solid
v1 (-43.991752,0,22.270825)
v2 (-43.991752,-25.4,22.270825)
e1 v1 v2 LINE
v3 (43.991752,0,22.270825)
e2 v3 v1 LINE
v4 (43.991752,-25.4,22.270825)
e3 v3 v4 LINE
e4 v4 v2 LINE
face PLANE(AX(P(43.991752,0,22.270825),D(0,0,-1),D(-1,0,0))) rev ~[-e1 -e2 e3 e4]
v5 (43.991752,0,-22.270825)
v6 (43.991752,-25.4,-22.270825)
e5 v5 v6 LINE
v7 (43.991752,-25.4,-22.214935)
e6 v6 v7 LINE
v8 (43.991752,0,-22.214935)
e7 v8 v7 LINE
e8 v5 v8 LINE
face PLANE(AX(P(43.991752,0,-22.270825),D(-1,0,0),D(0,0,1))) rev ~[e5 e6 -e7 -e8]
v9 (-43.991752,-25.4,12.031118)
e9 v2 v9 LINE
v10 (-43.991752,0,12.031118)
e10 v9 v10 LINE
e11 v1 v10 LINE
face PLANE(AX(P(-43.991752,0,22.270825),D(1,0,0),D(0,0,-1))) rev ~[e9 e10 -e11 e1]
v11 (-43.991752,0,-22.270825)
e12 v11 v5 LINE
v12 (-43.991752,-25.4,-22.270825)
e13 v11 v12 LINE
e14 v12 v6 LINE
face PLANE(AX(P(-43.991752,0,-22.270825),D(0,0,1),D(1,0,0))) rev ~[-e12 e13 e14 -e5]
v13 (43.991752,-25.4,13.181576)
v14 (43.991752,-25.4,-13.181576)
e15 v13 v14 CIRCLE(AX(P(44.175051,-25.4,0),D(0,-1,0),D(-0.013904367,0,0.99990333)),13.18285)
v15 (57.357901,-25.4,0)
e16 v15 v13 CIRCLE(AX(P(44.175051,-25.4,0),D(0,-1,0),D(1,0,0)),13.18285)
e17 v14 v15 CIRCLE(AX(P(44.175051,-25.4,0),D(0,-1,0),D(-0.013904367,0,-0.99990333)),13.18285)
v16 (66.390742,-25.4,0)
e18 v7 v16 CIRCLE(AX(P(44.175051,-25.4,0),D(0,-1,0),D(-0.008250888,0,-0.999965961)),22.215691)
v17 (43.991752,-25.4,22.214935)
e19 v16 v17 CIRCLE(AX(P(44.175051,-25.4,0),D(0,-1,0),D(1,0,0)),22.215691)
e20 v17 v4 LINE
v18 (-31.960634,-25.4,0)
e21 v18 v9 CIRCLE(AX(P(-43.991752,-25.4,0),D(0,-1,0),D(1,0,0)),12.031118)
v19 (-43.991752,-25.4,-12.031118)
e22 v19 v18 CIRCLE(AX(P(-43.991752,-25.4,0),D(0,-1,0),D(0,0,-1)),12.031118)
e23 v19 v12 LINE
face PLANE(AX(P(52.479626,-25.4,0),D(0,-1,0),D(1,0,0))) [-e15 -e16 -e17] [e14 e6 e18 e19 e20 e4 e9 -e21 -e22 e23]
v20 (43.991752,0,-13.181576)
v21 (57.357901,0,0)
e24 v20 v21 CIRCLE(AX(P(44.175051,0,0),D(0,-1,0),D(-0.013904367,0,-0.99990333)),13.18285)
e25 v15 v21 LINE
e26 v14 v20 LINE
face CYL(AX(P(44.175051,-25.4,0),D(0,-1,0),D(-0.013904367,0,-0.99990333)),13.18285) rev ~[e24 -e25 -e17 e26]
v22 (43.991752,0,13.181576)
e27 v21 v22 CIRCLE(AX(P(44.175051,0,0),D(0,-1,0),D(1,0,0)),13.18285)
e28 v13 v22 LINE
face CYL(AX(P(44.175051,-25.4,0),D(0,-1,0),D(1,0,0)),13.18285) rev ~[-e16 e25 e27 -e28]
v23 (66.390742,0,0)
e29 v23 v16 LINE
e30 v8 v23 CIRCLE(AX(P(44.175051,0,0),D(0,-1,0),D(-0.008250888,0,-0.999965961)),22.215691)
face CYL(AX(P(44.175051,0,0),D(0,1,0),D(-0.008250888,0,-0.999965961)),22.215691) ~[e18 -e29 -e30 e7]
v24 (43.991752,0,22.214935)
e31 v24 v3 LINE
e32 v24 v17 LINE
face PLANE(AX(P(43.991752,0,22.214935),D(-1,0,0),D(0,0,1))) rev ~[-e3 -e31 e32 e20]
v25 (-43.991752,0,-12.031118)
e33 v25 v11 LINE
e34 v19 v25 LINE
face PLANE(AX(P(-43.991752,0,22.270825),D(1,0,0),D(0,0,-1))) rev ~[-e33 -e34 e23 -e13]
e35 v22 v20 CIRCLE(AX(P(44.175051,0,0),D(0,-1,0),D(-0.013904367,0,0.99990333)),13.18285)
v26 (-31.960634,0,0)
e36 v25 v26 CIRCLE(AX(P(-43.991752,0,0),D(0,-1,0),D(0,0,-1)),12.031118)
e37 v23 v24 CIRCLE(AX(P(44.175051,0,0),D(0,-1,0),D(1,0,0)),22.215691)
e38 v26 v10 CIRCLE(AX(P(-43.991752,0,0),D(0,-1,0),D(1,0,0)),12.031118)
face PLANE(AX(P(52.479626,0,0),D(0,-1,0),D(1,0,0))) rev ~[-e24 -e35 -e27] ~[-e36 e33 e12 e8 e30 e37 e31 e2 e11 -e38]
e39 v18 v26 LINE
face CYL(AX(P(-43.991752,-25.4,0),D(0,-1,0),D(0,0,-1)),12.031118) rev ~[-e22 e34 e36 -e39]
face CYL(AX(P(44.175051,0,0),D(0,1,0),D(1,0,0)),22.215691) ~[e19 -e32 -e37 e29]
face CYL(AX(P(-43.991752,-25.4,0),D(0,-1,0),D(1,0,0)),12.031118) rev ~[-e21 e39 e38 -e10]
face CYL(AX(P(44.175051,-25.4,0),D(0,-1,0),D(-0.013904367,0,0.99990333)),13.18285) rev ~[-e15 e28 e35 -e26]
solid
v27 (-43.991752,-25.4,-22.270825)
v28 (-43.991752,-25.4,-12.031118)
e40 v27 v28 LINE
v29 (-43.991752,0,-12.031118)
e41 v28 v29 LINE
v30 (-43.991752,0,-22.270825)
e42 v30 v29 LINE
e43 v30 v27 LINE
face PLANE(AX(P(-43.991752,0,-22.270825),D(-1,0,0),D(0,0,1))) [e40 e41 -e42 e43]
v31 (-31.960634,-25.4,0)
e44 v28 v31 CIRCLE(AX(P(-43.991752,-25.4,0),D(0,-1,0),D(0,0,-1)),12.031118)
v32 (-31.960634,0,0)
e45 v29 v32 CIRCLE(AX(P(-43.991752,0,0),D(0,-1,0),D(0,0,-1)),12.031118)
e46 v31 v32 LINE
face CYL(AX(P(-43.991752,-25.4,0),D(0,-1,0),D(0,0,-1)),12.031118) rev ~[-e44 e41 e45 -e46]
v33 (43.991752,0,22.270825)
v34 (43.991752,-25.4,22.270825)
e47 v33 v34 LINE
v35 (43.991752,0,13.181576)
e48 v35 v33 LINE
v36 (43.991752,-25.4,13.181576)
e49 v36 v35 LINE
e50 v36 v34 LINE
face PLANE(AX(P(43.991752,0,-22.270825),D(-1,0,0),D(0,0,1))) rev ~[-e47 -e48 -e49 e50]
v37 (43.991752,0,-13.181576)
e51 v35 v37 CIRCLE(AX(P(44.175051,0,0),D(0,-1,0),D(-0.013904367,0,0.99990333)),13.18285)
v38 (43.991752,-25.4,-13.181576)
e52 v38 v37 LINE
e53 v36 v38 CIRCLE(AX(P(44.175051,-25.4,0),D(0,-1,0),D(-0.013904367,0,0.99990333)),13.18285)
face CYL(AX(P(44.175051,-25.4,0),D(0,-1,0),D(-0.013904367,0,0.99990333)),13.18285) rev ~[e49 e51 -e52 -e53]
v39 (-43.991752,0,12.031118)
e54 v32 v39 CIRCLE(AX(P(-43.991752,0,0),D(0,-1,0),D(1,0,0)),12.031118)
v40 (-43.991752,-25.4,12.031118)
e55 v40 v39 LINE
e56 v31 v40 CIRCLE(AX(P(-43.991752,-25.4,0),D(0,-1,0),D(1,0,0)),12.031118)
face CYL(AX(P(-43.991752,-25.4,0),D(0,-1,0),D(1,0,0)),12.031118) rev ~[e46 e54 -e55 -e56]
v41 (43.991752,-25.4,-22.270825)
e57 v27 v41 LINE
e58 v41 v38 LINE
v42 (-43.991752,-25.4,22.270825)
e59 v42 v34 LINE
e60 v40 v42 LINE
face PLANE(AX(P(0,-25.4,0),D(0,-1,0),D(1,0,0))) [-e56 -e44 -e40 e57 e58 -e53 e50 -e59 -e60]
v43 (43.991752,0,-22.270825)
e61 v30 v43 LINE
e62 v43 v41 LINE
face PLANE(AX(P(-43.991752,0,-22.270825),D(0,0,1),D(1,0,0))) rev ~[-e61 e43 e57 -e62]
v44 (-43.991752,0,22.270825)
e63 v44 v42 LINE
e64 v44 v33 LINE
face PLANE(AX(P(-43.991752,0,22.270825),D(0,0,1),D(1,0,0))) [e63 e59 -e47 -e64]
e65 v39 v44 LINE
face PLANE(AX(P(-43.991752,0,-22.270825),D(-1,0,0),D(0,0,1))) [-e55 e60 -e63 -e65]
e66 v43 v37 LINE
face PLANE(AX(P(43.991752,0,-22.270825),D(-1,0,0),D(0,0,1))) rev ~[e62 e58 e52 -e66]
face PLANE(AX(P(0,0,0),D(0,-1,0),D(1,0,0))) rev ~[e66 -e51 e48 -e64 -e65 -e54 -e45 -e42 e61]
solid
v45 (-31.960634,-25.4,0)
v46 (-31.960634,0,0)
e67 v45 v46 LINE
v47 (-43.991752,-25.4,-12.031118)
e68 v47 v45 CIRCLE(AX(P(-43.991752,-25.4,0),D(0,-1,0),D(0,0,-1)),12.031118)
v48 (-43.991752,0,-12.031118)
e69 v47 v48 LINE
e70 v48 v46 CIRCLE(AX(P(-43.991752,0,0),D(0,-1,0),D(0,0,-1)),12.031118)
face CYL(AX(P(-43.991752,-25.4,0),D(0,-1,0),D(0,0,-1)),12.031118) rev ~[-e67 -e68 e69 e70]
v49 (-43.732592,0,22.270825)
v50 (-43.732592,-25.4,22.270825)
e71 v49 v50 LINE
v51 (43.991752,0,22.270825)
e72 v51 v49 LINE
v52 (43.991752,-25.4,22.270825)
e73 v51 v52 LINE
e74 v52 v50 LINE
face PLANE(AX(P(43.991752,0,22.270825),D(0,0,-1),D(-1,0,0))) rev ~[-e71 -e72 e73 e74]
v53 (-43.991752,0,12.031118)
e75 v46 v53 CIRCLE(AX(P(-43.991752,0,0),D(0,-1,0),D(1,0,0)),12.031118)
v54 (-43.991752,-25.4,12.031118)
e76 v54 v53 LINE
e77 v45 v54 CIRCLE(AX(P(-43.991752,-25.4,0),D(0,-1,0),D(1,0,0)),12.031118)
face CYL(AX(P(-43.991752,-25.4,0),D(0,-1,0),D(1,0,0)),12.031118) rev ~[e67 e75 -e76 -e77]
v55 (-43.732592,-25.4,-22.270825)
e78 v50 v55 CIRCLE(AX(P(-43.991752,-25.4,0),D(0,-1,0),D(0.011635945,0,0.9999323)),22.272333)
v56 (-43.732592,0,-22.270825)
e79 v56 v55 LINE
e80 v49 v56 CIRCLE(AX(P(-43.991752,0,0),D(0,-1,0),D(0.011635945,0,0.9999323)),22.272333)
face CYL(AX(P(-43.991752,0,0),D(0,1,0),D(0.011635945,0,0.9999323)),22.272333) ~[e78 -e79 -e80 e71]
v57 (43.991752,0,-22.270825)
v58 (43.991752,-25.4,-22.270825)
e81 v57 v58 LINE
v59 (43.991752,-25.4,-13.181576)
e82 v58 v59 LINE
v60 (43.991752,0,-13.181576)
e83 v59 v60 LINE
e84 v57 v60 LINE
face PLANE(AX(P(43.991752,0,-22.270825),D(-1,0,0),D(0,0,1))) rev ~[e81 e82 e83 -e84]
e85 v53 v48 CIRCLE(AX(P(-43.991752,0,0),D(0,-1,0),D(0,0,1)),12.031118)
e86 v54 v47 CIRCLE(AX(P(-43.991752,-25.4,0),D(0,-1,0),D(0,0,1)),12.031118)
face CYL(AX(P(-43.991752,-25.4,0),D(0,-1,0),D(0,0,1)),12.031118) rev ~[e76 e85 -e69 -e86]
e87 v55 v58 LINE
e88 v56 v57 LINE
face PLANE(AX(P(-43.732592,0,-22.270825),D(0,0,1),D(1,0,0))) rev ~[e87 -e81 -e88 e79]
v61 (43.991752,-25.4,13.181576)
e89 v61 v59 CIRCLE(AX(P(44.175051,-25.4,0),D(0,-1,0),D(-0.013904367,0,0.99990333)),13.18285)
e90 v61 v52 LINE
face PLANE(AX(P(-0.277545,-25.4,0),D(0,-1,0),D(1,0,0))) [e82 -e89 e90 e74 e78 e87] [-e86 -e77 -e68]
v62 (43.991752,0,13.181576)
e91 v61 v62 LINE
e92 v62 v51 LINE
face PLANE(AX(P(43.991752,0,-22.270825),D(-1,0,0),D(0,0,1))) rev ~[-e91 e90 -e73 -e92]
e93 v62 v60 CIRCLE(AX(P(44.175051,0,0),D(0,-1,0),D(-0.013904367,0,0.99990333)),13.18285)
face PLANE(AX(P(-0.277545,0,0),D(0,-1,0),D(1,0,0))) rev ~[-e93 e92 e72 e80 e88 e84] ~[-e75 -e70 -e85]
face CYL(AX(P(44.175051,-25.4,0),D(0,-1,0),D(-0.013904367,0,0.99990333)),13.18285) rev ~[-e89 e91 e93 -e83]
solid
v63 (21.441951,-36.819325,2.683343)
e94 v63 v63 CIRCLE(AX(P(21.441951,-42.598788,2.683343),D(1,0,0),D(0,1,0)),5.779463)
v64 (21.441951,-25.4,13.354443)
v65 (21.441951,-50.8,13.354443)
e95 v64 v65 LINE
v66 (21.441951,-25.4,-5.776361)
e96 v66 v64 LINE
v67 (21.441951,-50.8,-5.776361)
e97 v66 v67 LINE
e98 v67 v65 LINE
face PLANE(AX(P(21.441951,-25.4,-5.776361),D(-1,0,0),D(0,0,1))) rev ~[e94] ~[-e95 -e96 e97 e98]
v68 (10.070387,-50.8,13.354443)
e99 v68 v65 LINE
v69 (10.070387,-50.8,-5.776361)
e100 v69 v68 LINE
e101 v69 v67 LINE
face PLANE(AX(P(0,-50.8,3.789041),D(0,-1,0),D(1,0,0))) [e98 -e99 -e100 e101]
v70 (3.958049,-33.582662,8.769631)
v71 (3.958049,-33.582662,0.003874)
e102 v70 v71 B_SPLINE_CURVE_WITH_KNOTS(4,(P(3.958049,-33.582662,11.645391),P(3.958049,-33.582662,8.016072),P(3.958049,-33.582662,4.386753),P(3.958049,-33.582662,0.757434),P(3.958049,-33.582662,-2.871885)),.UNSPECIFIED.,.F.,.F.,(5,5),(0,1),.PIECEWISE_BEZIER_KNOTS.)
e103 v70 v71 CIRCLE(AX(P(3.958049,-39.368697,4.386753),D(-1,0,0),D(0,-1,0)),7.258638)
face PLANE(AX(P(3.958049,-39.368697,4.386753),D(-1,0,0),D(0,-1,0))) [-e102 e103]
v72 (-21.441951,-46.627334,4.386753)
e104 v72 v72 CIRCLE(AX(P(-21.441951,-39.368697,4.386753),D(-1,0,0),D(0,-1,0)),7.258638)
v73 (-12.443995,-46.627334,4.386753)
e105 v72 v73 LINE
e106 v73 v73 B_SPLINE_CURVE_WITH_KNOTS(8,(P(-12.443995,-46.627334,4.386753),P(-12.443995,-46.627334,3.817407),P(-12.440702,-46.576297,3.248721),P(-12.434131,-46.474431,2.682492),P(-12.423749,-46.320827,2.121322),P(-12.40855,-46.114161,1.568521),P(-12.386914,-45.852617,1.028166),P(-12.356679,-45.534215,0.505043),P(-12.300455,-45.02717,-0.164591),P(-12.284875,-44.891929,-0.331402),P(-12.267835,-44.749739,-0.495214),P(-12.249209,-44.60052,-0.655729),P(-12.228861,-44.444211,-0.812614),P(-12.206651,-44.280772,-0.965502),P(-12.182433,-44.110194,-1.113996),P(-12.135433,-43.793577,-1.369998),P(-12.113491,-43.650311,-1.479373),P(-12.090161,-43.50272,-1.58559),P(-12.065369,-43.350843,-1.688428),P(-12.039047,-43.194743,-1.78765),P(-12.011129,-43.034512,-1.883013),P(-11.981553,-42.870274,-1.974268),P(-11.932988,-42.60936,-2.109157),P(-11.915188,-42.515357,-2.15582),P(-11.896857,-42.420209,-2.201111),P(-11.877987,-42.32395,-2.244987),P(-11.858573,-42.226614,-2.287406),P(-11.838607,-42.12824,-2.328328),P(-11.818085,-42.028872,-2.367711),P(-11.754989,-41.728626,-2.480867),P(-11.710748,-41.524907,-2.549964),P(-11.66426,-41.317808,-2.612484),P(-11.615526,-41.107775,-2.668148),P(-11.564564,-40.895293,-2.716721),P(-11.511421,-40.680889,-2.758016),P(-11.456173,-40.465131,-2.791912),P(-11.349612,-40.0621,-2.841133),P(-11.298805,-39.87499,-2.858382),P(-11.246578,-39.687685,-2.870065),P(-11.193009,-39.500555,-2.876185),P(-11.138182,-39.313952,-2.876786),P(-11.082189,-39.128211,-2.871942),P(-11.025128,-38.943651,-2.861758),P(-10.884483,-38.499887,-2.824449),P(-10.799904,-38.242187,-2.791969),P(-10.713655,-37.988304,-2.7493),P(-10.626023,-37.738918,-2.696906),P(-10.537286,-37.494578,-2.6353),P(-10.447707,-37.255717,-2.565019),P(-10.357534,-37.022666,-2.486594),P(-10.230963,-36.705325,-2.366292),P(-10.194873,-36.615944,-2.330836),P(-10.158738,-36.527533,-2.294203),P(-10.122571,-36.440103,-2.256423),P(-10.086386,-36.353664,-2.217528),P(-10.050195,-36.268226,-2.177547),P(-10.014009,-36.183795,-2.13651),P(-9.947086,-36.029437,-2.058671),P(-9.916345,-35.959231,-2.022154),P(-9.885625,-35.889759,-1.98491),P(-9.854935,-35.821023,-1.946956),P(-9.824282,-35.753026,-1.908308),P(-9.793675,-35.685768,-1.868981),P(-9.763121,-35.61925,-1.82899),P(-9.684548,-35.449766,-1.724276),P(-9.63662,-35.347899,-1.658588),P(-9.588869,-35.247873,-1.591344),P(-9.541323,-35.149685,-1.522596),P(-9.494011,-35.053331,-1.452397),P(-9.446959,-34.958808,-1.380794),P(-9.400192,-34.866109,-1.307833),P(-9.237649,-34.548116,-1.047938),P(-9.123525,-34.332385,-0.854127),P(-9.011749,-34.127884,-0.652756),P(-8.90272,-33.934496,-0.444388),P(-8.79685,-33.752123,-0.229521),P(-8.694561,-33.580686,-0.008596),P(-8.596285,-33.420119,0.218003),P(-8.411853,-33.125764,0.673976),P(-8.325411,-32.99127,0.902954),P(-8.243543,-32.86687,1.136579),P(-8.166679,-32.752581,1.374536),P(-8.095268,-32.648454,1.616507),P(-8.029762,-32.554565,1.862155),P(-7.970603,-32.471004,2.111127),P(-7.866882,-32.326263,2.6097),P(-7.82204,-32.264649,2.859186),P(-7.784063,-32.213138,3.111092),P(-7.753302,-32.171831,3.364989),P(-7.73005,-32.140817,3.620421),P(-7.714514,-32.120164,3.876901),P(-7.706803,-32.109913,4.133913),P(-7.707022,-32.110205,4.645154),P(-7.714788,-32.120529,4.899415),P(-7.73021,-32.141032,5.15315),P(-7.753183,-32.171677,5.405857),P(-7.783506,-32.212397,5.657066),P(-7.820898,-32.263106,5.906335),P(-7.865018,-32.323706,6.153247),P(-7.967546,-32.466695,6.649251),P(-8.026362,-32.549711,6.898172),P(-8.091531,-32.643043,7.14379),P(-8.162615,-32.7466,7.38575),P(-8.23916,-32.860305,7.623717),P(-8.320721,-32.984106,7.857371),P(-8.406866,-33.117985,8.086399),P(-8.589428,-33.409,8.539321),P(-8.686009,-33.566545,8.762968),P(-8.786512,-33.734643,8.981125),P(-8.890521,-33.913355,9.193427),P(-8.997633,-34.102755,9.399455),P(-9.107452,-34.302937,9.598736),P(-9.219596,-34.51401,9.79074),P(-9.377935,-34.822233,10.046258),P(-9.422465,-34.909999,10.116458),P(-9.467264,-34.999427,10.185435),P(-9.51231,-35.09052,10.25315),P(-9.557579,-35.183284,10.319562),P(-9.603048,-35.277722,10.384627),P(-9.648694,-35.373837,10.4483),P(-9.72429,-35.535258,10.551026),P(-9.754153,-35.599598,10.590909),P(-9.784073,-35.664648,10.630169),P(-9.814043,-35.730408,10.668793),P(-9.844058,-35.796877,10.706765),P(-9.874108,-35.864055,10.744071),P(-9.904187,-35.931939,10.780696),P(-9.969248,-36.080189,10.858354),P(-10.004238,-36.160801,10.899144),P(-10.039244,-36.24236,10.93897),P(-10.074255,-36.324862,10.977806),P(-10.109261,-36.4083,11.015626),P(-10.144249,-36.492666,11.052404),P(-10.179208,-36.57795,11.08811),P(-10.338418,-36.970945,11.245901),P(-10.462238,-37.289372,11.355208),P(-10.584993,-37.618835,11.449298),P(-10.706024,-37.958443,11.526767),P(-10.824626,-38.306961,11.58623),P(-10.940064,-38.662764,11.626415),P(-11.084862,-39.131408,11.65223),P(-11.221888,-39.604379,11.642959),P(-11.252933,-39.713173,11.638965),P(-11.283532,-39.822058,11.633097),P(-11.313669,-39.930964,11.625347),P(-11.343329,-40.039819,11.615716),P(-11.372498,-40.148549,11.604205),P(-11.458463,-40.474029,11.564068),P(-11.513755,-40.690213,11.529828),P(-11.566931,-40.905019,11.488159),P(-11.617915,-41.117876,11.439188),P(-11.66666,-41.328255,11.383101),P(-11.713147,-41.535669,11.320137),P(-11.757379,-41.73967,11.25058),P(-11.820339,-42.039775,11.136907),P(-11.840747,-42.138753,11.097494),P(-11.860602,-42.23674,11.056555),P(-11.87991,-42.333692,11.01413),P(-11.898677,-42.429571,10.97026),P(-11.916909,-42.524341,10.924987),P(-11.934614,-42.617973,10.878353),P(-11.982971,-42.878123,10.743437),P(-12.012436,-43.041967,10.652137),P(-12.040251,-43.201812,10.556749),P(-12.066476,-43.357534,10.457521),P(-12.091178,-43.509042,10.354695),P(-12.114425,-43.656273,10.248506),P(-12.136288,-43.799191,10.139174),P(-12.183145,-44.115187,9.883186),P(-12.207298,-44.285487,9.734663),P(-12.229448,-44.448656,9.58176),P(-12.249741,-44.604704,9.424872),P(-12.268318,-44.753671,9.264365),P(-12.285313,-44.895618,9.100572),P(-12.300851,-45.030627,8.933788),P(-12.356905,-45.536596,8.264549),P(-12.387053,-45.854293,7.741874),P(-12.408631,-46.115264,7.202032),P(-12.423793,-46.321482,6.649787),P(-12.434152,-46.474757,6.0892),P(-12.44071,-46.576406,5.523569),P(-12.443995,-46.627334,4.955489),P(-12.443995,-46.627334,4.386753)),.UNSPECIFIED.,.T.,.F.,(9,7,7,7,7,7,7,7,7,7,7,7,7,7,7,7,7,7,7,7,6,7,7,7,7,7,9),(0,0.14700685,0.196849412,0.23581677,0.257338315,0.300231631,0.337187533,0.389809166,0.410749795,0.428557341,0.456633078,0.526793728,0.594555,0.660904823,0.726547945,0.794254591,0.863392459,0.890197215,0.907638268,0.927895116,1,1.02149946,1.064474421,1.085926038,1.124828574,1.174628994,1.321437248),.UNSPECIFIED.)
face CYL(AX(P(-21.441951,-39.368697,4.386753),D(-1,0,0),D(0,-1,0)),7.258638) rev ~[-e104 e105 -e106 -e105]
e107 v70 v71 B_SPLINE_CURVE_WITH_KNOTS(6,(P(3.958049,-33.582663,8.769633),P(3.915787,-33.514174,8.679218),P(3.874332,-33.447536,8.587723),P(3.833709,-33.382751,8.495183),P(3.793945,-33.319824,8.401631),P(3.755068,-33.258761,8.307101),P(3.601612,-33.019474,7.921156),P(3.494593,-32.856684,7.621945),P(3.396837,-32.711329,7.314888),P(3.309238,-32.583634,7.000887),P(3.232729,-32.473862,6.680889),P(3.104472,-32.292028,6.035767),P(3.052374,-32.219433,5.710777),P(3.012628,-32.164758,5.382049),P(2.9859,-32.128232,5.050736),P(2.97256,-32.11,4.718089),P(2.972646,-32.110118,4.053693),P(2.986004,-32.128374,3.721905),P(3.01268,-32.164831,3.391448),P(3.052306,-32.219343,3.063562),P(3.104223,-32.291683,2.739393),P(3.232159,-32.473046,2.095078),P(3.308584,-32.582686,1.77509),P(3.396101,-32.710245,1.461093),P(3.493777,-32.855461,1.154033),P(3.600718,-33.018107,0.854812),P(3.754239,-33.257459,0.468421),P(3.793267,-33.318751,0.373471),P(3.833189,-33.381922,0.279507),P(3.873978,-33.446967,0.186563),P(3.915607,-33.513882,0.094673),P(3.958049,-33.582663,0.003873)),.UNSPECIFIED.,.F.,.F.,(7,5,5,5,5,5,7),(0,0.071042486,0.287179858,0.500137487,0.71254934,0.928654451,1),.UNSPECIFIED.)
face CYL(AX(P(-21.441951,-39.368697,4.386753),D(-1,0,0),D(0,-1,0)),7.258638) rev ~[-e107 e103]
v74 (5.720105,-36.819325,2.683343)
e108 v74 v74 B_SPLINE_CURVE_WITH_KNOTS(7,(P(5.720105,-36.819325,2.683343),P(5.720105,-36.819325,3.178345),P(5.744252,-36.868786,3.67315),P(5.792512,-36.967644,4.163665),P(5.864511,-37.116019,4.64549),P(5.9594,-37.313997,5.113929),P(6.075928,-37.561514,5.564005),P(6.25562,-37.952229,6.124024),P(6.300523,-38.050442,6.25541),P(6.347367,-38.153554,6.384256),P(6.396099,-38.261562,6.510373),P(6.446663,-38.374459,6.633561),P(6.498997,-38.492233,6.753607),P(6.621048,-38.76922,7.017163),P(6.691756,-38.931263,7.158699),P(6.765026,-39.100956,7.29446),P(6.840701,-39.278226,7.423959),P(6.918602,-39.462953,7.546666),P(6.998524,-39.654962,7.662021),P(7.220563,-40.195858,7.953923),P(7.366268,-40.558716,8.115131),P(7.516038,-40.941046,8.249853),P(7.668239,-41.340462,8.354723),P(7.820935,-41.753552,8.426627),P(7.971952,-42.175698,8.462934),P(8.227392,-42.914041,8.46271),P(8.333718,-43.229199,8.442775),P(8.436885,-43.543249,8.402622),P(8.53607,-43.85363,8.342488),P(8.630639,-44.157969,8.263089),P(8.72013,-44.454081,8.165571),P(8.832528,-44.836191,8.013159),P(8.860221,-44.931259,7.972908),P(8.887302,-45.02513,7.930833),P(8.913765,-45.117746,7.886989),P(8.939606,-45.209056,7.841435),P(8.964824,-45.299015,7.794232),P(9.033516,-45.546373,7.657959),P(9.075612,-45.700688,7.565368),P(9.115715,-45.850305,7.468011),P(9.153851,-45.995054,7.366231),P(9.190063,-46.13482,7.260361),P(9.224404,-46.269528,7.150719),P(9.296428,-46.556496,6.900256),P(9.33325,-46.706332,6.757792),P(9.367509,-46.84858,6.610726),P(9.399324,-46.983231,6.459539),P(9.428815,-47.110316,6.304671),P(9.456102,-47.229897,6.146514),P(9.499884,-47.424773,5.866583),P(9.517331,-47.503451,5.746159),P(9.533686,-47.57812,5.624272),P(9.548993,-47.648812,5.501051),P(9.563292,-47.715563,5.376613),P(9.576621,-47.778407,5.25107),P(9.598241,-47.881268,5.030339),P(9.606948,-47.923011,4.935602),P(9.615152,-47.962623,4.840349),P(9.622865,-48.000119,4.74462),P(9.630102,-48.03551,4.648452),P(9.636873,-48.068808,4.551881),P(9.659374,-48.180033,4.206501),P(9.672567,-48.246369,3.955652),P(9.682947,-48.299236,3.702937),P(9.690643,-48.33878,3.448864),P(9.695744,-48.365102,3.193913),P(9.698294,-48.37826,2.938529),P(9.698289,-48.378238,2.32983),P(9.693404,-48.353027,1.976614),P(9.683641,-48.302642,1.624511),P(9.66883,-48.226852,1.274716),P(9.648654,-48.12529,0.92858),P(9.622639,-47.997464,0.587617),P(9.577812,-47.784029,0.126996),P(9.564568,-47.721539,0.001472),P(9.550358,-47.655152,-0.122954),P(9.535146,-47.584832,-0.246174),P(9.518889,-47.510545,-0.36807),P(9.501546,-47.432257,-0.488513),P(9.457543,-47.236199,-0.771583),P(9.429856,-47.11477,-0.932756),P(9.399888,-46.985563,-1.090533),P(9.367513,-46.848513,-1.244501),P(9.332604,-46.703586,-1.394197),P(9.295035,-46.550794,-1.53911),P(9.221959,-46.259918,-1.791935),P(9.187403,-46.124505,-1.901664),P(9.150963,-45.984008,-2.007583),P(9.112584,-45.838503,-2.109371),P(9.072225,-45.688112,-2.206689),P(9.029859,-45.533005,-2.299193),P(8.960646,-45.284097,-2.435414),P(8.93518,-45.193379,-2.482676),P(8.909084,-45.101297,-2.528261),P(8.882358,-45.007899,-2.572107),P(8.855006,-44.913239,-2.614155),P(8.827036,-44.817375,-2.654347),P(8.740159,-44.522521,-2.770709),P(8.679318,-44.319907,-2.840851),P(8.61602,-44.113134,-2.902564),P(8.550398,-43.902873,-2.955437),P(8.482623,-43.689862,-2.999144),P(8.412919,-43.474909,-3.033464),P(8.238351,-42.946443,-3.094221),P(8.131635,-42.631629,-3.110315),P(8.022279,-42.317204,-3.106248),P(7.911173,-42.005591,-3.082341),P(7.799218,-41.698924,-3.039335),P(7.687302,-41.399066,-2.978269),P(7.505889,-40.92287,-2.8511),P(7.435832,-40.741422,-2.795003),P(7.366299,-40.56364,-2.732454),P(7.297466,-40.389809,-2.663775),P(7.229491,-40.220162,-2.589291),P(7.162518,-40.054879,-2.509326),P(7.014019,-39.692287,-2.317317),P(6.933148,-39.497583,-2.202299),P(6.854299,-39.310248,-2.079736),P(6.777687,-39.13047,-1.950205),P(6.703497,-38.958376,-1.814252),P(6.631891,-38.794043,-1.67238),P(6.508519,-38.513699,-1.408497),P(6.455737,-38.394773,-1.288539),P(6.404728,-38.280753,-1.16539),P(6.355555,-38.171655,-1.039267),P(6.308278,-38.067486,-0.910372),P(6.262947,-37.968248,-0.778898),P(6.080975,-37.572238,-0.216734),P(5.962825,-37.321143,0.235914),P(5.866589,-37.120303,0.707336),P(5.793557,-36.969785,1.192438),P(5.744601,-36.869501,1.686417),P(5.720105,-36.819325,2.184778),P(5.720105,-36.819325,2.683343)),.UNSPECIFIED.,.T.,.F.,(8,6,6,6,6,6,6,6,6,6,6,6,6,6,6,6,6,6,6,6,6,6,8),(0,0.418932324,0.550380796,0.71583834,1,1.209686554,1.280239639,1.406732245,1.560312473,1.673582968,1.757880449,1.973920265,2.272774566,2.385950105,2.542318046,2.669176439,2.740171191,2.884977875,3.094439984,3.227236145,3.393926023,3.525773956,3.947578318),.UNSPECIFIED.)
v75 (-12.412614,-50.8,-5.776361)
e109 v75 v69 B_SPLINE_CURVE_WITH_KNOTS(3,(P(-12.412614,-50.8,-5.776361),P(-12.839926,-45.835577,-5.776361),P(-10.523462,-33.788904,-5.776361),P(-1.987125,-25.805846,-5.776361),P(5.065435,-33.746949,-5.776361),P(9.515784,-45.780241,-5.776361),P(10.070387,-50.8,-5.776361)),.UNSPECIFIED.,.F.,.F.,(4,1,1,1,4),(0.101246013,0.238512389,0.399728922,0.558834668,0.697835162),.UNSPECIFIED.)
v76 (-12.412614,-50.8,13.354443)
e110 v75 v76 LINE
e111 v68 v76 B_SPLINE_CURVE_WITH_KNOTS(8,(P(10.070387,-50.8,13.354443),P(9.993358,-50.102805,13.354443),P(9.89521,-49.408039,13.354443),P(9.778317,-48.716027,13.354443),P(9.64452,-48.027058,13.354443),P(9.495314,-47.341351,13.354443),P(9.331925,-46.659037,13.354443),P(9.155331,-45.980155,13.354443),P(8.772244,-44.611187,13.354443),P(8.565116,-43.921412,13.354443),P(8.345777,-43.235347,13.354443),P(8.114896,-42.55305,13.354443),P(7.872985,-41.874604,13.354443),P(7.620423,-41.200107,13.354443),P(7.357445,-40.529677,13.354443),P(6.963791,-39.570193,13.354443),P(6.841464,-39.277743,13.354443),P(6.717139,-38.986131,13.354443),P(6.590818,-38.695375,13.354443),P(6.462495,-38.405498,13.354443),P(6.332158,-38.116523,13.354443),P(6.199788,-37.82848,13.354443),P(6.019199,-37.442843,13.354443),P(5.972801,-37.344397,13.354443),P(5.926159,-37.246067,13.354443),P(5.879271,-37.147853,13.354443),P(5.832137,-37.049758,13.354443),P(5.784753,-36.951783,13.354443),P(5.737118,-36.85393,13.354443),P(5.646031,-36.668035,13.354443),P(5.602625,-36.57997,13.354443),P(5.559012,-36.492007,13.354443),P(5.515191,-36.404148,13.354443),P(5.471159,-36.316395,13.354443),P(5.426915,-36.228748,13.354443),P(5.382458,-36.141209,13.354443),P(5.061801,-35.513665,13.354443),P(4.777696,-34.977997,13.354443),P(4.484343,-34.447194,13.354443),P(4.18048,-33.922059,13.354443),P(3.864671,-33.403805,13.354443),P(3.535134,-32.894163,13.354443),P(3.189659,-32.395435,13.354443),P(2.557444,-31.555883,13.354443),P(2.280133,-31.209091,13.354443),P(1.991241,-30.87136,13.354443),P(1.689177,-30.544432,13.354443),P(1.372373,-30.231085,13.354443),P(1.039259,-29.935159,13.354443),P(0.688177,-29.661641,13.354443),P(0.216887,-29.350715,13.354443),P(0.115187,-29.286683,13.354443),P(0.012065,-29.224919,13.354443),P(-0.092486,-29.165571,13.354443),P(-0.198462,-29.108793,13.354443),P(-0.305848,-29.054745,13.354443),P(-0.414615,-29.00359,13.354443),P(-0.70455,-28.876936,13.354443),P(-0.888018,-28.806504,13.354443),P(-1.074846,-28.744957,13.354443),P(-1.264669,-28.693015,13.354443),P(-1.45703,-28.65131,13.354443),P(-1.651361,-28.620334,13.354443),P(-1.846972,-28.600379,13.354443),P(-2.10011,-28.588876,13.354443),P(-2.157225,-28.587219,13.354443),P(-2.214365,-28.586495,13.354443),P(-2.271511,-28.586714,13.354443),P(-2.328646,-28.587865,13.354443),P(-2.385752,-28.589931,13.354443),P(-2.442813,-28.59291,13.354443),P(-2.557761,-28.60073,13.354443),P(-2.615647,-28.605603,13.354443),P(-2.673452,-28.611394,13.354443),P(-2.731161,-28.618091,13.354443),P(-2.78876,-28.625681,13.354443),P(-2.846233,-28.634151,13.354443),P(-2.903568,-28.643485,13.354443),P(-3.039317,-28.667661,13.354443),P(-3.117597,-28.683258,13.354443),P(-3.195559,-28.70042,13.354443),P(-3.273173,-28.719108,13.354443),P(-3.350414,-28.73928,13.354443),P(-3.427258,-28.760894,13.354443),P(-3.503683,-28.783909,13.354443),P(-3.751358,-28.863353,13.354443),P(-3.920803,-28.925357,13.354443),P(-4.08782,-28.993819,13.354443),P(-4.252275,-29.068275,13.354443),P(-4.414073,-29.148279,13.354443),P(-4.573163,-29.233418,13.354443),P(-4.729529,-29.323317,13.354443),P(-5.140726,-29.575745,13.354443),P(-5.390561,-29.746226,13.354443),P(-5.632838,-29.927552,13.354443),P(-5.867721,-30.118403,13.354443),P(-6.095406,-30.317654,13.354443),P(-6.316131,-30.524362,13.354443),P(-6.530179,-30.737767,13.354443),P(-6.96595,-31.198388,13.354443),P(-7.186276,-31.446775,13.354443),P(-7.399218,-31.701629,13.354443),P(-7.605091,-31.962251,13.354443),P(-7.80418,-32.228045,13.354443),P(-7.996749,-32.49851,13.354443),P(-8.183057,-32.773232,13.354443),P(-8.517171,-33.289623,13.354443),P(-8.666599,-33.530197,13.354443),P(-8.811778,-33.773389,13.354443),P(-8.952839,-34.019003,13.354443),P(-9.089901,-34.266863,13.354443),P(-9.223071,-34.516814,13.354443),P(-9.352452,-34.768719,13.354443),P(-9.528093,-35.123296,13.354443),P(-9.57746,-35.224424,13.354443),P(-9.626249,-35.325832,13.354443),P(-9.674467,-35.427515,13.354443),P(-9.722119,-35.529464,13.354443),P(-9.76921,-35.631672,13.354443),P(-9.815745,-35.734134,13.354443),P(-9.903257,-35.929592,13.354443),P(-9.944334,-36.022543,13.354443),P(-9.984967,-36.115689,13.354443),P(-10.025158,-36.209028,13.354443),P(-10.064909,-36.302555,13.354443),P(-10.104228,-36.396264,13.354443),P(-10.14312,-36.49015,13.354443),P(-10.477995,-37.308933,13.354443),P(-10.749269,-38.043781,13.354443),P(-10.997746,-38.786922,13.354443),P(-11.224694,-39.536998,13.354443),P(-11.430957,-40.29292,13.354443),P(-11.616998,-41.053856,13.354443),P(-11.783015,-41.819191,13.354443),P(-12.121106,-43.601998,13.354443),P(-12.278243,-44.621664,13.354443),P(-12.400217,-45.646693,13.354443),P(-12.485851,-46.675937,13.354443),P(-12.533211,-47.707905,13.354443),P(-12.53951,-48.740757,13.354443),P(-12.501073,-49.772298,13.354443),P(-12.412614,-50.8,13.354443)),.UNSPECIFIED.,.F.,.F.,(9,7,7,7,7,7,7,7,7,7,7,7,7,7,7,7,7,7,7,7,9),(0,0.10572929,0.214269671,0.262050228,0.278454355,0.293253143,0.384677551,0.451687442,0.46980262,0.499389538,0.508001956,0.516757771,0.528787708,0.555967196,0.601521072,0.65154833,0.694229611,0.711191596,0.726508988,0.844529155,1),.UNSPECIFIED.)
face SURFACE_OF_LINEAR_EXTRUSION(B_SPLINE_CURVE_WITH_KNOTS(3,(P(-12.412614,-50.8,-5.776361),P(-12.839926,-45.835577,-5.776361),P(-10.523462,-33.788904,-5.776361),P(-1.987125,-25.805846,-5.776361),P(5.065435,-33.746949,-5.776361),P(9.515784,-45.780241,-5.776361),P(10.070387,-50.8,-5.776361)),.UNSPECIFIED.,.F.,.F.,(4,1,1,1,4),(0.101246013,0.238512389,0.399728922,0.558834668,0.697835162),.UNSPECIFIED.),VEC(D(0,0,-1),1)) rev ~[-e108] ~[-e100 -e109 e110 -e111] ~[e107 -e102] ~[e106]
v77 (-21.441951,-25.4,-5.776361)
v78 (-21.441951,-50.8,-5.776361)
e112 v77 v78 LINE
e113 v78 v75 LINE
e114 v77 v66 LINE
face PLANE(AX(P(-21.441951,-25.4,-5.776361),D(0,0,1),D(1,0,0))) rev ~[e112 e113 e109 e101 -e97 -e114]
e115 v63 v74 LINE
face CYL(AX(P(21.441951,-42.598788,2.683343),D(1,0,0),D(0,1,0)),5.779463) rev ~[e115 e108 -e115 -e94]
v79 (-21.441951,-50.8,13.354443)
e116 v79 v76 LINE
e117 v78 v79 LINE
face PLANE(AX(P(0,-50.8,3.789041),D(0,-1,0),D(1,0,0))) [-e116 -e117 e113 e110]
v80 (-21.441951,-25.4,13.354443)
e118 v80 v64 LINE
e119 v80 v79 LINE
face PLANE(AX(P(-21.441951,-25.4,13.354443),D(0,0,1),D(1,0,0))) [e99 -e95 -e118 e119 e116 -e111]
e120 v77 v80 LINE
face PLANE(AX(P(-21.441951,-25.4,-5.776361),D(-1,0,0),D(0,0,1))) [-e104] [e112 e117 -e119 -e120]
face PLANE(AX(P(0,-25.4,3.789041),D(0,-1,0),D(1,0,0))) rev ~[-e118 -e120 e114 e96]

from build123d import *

# Parameters (mm, degrees)
F0_W          = 87.9835039377
F0_H          = 44.5416495204
F3_DEPTH      = 25.4
F5_DEPTH      = 25.4
F5_DEPTH_BACK = 25.4
F7_DEPTH      = 25.4
F8_W          = 42.8839027882
F8_H          = 19.1308041103
F9_DEPTH      = 25.4
F11_DEPTH     = 25.4
F12_R         = 5.7794628443
F13_DEPTH     = 25.4
F14_R         = 7.2586378787
F15_DEPTH     = 25.4


with BuildPart() as f3:
    # F0 (on Front) → F3 (new body)
    with BuildSketch(Plane.XZ):
        Rectangle(F0_W, F0_H)
    extrude(amount=F3_DEPTH)


with BuildPart() as f3b:
    # F1 (on face) → F3, piece 2 (new body)
    with BuildSketch(Plane.XZ):
        with BuildLine():
            ThreePointArc((-43.7325923224, 22.2708247602), (-28.1514727879, 15.6570225359), (-21.7194193739, 0))
            ThreePointArc((-21.7194193739, 0), (-28.1514727879, -15.6570225359), (-43.7325923224, -22.2708247602))
            Line((-43.7325923224, -22.2708247602), (43.9917519689, -22.2708247602))
            Line((43.9917519689, -22.2708247602), (43.9917519689, 22.2708247602))
            Line((43.9917519689, 22.2708247602), (-43.7325923224, 22.2708247602))
        make_face()
        with BuildLine():
            ThreePointArc((-43.7325923224, -22.2708247602), (-28.1514727879, -15.6570225359), (-21.7194193739, 0))
            ThreePointArc((-21.7194193739, 0), (-28.1514727879, 15.6570225359), (-43.7325923224, 22.2708247602))
            Line((-43.7325923224, 22.2708247602), (-43.9917519689, 22.2708247602))
            Line((-43.9917519689, 22.2708247602), (-43.9917519689, -22.2708247602))
            Line((-43.9917519689, -22.2708247602), (-43.7325923224, -22.2708247602))
        make_face()
        with BuildLine():
            Line((-43.9917519689, 22.2708247602), (-43.7325923224, 22.2708247602))
            ThreePointArc((-43.7325923224, 22.2708247602), (-66.2640845638, 0), (-43.7325923224, -22.2708247602))
            Line((-43.7325923224, -22.2708247602), (-43.9917519689, -22.2708247602))
            Line((-43.9917519689, -22.2708247602), (-43.9917519689, 22.2708247602))
        make_face()
    extrude(amount=F3_DEPTH)


with BuildPart() as f3c:
    # F2 (on face) → F3, piece 3 (new body)
    with BuildSketch(Plane.XZ):
        with BuildLine():
            ThreePointArc((43.9917519689, -22.2149348769), (59.8189766852, -15.7735387314), (66.390742233, 0))
            ThreePointArc((66.390742233, 0), (59.8189766852, 15.7735387314), (43.9917519689, 22.2149348769))
            Line((43.9917519689, 22.2149348769), (43.9917519689, -22.2149348769))
        make_face()
        with BuildLine():
            Line((43.9917519689, -22.2149348769), (43.9917519689, 22.2149348769))
            ThreePointArc((43.9917519689, 22.2149348769), (21.9593600724, 0), (43.9917519689, -22.2149348769))
        make_face()
        with BuildLine():
            ThreePointArc((43.9917519689, -22.2149348769), (21.9593600724, 0), (43.9917519689, 22.2149348769))
            Line((43.9917519689, 22.2149348769), (43.9917519689, 22.2708247602))
            Line((43.9917519689, 22.2708247602), (-43.9917519689, 22.2708247602))
            Line((-43.9917519689, 22.2708247602), (-43.9917519689, -22.2708247602))
            Line((-43.9917519689, -22.2708247602), (43.9917519689, -22.2708247602))
            Line((43.9917519689, -22.2708247602), (43.9917519689, -22.2149348769))
        make_face()
    extrude(amount=F3_DEPTH)


with BuildPart() as f5_tool:
    # F4 (on face) → F5 (new body, two sides)
    with BuildSketch(Plane.XZ.offset(25.4)) as f5_sk:
        with BuildLine():
            Line((-43.9917519689, -12.0311183239), (-43.9917519689, 12.0311183239))
            ThreePointArc((-43.9917519689, 12.0311183239), (-56.0228702927, 0), (-43.9917519689, -12.0311183239))
        make_face()
        with BuildLine():
            ThreePointArc((-43.9917519689, -12.0311183239), (-35.4844666168, -8.5072853521), (-31.960633645, 0))
            ThreePointArc((-31.960633645, 0), (-35.4844666168, 8.5072853521), (-43.9917519689, 12.0311183239))
            Line((-43.9917519689, 12.0311183239), (-43.9917519689, -12.0311183239))
        make_face()
    extrude(amount=-F5_DEPTH)
    extrude(f5_sk.sketch, amount=F5_DEPTH_BACK)


with BuildPart() as f3_1:
    add(f3.part)

    # F5: cut by f5_tool
    add(f5_tool.part, mode=Mode.SUBTRACT)


with BuildPart() as f3b_1:
    add(f3b.part)

    # F5: cut by f5_tool
    add(f5_tool.part, mode=Mode.SUBTRACT)


with BuildPart() as f3c_1:
    add(f3c.part)

    # F5: cut by f5_tool
    add(f5_tool.part, mode=Mode.SUBTRACT)


with BuildPart() as f7_tool:
    # F6 (on face) → F7 (new body)
    with BuildSketch(Plane.XZ.offset(25.4)):
        with BuildLine():
            Line((43.9917519689, -13.181575652), (43.9917519689, 13.181575652))
            ThreePointArc((43.9917519689, 13.181575652), (30.9922011095, 0), (43.9917519689, -13.181575652))
        make_face()
        with BuildLine():
            ThreePointArc((43.9917519689, -13.181575652), (53.431700914, -9.3862649897), (57.3579011959, 0))
            ThreePointArc((57.3579011959, 0), (53.431700914, 9.3862649897), (43.9917519689, 13.181575652))
            Line((43.9917519689, 13.181575652), (43.9917519689, -13.181575652))
        make_face()
    extrude(amount=-F7_DEPTH)


with BuildPart() as f3_2:
    add(f3_1.part)

    # F7: cut by f7_tool
    add(f7_tool.part, mode=Mode.SUBTRACT)


with BuildPart() as f3b_2:
    add(f3b_1.part)

    # F7: cut by f7_tool
    add(f7_tool.part, mode=Mode.SUBTRACT)


with BuildPart() as f3c_2:
    add(f3c_1.part)

    # F7: cut by f7_tool
    add(f7_tool.part, mode=Mode.SUBTRACT)


with BuildPart() as f9:
    # F8 (on face) → F9 (new body)
    with BuildSketch(Plane.XZ.offset(25.4)):
        with Locations((0, 3.7890414242)):
            Rectangle(F8_W, F8_H)
    extrude(amount=F9_DEPTH)

    # F10 (on face) → F11 (cut)
    with BuildSketch(Plane(origin=(0, 0, -5.776360631), x_dir=(1, 0, 0), z_dir=(0, 0, -1))):
        with BuildLine():
            Line((10.0703872731, 50.8), (-12.4126139952, 50.8))
            add(Edge.make_bspline(
                [(-12.4126139952, 50.8), (-12.8399255504, 45.8355769161), (-10.5234615407, 33.7889043831), (-1.9871249362, 25.8058458312), (5.0654346886, 33.7469488905), (9.515784338, 45.7802411886), (10.0703872731, 50.8)],
                knots=[0.1012460128, 0.1012460128, 0.1012460128, 0.1012460128, 0.2385123888, 0.3997289225, 0.5588346678, 0.6978351625, 0.6978351625, 0.6978351625, 0.6978351625], degree=3))
        make_face()
        with BuildLine():
            add(Edge.make_bspline(
                [(10.0703872731, 50.8), (10.472425487, 54.4388824127), (9.2819770926, 64.4195463728), (-4.2079002481, 64.4583017468), (-8.7079945952, 60.0342489779)],
                knots=[0.6978351625, 0.6978351625, 0.6978351625, 0.6978351625, 0.7985982617, 1, 1, 1, 1], degree=3))
            add(Edge.make_bspline(
                [(-8.7079945952, 60.0342489779), (-10.9702223888, 57.8102477986), (-12.0974341784, 54.461698212), (-12.4126139952, 50.8)],
                knots=[0, 0, 0, 0, 0.1012460128, 0.1012460128, 0.1012460128, 0.1012460128], degree=3))
            Line((-12.4126139952, 50.8), (10.0703872731, 50.8))
        make_face()
    extrude(amount=-F11_DEPTH, mode=Mode.SUBTRACT)

    # F12 (on face) → F13 (cut)
    with BuildSketch(Plane.YZ.offset(21.4419513941)):
        with Locations((-42.5987876952, 2.6833429001)):
            Circle(F12_R)
    extrude(amount=-F13_DEPTH, mode=Mode.SUBTRACT)

    # F14 (on face) → F15 (cut)
    with BuildSketch(Plane(origin=(-21.4419513941, 0, 0), x_dir=(0, -1, 0), z_dir=(-1, 0, 0))):
        with Locations((39.3686965108, 4.3867528439)):
            Circle(F14_R)
    extrude(amount=-F15_DEPTH, mode=Mode.SUBTRACT)


solid = Compound([f3_2.part, f3b_2.part, f3c_2.part, f9.part])
